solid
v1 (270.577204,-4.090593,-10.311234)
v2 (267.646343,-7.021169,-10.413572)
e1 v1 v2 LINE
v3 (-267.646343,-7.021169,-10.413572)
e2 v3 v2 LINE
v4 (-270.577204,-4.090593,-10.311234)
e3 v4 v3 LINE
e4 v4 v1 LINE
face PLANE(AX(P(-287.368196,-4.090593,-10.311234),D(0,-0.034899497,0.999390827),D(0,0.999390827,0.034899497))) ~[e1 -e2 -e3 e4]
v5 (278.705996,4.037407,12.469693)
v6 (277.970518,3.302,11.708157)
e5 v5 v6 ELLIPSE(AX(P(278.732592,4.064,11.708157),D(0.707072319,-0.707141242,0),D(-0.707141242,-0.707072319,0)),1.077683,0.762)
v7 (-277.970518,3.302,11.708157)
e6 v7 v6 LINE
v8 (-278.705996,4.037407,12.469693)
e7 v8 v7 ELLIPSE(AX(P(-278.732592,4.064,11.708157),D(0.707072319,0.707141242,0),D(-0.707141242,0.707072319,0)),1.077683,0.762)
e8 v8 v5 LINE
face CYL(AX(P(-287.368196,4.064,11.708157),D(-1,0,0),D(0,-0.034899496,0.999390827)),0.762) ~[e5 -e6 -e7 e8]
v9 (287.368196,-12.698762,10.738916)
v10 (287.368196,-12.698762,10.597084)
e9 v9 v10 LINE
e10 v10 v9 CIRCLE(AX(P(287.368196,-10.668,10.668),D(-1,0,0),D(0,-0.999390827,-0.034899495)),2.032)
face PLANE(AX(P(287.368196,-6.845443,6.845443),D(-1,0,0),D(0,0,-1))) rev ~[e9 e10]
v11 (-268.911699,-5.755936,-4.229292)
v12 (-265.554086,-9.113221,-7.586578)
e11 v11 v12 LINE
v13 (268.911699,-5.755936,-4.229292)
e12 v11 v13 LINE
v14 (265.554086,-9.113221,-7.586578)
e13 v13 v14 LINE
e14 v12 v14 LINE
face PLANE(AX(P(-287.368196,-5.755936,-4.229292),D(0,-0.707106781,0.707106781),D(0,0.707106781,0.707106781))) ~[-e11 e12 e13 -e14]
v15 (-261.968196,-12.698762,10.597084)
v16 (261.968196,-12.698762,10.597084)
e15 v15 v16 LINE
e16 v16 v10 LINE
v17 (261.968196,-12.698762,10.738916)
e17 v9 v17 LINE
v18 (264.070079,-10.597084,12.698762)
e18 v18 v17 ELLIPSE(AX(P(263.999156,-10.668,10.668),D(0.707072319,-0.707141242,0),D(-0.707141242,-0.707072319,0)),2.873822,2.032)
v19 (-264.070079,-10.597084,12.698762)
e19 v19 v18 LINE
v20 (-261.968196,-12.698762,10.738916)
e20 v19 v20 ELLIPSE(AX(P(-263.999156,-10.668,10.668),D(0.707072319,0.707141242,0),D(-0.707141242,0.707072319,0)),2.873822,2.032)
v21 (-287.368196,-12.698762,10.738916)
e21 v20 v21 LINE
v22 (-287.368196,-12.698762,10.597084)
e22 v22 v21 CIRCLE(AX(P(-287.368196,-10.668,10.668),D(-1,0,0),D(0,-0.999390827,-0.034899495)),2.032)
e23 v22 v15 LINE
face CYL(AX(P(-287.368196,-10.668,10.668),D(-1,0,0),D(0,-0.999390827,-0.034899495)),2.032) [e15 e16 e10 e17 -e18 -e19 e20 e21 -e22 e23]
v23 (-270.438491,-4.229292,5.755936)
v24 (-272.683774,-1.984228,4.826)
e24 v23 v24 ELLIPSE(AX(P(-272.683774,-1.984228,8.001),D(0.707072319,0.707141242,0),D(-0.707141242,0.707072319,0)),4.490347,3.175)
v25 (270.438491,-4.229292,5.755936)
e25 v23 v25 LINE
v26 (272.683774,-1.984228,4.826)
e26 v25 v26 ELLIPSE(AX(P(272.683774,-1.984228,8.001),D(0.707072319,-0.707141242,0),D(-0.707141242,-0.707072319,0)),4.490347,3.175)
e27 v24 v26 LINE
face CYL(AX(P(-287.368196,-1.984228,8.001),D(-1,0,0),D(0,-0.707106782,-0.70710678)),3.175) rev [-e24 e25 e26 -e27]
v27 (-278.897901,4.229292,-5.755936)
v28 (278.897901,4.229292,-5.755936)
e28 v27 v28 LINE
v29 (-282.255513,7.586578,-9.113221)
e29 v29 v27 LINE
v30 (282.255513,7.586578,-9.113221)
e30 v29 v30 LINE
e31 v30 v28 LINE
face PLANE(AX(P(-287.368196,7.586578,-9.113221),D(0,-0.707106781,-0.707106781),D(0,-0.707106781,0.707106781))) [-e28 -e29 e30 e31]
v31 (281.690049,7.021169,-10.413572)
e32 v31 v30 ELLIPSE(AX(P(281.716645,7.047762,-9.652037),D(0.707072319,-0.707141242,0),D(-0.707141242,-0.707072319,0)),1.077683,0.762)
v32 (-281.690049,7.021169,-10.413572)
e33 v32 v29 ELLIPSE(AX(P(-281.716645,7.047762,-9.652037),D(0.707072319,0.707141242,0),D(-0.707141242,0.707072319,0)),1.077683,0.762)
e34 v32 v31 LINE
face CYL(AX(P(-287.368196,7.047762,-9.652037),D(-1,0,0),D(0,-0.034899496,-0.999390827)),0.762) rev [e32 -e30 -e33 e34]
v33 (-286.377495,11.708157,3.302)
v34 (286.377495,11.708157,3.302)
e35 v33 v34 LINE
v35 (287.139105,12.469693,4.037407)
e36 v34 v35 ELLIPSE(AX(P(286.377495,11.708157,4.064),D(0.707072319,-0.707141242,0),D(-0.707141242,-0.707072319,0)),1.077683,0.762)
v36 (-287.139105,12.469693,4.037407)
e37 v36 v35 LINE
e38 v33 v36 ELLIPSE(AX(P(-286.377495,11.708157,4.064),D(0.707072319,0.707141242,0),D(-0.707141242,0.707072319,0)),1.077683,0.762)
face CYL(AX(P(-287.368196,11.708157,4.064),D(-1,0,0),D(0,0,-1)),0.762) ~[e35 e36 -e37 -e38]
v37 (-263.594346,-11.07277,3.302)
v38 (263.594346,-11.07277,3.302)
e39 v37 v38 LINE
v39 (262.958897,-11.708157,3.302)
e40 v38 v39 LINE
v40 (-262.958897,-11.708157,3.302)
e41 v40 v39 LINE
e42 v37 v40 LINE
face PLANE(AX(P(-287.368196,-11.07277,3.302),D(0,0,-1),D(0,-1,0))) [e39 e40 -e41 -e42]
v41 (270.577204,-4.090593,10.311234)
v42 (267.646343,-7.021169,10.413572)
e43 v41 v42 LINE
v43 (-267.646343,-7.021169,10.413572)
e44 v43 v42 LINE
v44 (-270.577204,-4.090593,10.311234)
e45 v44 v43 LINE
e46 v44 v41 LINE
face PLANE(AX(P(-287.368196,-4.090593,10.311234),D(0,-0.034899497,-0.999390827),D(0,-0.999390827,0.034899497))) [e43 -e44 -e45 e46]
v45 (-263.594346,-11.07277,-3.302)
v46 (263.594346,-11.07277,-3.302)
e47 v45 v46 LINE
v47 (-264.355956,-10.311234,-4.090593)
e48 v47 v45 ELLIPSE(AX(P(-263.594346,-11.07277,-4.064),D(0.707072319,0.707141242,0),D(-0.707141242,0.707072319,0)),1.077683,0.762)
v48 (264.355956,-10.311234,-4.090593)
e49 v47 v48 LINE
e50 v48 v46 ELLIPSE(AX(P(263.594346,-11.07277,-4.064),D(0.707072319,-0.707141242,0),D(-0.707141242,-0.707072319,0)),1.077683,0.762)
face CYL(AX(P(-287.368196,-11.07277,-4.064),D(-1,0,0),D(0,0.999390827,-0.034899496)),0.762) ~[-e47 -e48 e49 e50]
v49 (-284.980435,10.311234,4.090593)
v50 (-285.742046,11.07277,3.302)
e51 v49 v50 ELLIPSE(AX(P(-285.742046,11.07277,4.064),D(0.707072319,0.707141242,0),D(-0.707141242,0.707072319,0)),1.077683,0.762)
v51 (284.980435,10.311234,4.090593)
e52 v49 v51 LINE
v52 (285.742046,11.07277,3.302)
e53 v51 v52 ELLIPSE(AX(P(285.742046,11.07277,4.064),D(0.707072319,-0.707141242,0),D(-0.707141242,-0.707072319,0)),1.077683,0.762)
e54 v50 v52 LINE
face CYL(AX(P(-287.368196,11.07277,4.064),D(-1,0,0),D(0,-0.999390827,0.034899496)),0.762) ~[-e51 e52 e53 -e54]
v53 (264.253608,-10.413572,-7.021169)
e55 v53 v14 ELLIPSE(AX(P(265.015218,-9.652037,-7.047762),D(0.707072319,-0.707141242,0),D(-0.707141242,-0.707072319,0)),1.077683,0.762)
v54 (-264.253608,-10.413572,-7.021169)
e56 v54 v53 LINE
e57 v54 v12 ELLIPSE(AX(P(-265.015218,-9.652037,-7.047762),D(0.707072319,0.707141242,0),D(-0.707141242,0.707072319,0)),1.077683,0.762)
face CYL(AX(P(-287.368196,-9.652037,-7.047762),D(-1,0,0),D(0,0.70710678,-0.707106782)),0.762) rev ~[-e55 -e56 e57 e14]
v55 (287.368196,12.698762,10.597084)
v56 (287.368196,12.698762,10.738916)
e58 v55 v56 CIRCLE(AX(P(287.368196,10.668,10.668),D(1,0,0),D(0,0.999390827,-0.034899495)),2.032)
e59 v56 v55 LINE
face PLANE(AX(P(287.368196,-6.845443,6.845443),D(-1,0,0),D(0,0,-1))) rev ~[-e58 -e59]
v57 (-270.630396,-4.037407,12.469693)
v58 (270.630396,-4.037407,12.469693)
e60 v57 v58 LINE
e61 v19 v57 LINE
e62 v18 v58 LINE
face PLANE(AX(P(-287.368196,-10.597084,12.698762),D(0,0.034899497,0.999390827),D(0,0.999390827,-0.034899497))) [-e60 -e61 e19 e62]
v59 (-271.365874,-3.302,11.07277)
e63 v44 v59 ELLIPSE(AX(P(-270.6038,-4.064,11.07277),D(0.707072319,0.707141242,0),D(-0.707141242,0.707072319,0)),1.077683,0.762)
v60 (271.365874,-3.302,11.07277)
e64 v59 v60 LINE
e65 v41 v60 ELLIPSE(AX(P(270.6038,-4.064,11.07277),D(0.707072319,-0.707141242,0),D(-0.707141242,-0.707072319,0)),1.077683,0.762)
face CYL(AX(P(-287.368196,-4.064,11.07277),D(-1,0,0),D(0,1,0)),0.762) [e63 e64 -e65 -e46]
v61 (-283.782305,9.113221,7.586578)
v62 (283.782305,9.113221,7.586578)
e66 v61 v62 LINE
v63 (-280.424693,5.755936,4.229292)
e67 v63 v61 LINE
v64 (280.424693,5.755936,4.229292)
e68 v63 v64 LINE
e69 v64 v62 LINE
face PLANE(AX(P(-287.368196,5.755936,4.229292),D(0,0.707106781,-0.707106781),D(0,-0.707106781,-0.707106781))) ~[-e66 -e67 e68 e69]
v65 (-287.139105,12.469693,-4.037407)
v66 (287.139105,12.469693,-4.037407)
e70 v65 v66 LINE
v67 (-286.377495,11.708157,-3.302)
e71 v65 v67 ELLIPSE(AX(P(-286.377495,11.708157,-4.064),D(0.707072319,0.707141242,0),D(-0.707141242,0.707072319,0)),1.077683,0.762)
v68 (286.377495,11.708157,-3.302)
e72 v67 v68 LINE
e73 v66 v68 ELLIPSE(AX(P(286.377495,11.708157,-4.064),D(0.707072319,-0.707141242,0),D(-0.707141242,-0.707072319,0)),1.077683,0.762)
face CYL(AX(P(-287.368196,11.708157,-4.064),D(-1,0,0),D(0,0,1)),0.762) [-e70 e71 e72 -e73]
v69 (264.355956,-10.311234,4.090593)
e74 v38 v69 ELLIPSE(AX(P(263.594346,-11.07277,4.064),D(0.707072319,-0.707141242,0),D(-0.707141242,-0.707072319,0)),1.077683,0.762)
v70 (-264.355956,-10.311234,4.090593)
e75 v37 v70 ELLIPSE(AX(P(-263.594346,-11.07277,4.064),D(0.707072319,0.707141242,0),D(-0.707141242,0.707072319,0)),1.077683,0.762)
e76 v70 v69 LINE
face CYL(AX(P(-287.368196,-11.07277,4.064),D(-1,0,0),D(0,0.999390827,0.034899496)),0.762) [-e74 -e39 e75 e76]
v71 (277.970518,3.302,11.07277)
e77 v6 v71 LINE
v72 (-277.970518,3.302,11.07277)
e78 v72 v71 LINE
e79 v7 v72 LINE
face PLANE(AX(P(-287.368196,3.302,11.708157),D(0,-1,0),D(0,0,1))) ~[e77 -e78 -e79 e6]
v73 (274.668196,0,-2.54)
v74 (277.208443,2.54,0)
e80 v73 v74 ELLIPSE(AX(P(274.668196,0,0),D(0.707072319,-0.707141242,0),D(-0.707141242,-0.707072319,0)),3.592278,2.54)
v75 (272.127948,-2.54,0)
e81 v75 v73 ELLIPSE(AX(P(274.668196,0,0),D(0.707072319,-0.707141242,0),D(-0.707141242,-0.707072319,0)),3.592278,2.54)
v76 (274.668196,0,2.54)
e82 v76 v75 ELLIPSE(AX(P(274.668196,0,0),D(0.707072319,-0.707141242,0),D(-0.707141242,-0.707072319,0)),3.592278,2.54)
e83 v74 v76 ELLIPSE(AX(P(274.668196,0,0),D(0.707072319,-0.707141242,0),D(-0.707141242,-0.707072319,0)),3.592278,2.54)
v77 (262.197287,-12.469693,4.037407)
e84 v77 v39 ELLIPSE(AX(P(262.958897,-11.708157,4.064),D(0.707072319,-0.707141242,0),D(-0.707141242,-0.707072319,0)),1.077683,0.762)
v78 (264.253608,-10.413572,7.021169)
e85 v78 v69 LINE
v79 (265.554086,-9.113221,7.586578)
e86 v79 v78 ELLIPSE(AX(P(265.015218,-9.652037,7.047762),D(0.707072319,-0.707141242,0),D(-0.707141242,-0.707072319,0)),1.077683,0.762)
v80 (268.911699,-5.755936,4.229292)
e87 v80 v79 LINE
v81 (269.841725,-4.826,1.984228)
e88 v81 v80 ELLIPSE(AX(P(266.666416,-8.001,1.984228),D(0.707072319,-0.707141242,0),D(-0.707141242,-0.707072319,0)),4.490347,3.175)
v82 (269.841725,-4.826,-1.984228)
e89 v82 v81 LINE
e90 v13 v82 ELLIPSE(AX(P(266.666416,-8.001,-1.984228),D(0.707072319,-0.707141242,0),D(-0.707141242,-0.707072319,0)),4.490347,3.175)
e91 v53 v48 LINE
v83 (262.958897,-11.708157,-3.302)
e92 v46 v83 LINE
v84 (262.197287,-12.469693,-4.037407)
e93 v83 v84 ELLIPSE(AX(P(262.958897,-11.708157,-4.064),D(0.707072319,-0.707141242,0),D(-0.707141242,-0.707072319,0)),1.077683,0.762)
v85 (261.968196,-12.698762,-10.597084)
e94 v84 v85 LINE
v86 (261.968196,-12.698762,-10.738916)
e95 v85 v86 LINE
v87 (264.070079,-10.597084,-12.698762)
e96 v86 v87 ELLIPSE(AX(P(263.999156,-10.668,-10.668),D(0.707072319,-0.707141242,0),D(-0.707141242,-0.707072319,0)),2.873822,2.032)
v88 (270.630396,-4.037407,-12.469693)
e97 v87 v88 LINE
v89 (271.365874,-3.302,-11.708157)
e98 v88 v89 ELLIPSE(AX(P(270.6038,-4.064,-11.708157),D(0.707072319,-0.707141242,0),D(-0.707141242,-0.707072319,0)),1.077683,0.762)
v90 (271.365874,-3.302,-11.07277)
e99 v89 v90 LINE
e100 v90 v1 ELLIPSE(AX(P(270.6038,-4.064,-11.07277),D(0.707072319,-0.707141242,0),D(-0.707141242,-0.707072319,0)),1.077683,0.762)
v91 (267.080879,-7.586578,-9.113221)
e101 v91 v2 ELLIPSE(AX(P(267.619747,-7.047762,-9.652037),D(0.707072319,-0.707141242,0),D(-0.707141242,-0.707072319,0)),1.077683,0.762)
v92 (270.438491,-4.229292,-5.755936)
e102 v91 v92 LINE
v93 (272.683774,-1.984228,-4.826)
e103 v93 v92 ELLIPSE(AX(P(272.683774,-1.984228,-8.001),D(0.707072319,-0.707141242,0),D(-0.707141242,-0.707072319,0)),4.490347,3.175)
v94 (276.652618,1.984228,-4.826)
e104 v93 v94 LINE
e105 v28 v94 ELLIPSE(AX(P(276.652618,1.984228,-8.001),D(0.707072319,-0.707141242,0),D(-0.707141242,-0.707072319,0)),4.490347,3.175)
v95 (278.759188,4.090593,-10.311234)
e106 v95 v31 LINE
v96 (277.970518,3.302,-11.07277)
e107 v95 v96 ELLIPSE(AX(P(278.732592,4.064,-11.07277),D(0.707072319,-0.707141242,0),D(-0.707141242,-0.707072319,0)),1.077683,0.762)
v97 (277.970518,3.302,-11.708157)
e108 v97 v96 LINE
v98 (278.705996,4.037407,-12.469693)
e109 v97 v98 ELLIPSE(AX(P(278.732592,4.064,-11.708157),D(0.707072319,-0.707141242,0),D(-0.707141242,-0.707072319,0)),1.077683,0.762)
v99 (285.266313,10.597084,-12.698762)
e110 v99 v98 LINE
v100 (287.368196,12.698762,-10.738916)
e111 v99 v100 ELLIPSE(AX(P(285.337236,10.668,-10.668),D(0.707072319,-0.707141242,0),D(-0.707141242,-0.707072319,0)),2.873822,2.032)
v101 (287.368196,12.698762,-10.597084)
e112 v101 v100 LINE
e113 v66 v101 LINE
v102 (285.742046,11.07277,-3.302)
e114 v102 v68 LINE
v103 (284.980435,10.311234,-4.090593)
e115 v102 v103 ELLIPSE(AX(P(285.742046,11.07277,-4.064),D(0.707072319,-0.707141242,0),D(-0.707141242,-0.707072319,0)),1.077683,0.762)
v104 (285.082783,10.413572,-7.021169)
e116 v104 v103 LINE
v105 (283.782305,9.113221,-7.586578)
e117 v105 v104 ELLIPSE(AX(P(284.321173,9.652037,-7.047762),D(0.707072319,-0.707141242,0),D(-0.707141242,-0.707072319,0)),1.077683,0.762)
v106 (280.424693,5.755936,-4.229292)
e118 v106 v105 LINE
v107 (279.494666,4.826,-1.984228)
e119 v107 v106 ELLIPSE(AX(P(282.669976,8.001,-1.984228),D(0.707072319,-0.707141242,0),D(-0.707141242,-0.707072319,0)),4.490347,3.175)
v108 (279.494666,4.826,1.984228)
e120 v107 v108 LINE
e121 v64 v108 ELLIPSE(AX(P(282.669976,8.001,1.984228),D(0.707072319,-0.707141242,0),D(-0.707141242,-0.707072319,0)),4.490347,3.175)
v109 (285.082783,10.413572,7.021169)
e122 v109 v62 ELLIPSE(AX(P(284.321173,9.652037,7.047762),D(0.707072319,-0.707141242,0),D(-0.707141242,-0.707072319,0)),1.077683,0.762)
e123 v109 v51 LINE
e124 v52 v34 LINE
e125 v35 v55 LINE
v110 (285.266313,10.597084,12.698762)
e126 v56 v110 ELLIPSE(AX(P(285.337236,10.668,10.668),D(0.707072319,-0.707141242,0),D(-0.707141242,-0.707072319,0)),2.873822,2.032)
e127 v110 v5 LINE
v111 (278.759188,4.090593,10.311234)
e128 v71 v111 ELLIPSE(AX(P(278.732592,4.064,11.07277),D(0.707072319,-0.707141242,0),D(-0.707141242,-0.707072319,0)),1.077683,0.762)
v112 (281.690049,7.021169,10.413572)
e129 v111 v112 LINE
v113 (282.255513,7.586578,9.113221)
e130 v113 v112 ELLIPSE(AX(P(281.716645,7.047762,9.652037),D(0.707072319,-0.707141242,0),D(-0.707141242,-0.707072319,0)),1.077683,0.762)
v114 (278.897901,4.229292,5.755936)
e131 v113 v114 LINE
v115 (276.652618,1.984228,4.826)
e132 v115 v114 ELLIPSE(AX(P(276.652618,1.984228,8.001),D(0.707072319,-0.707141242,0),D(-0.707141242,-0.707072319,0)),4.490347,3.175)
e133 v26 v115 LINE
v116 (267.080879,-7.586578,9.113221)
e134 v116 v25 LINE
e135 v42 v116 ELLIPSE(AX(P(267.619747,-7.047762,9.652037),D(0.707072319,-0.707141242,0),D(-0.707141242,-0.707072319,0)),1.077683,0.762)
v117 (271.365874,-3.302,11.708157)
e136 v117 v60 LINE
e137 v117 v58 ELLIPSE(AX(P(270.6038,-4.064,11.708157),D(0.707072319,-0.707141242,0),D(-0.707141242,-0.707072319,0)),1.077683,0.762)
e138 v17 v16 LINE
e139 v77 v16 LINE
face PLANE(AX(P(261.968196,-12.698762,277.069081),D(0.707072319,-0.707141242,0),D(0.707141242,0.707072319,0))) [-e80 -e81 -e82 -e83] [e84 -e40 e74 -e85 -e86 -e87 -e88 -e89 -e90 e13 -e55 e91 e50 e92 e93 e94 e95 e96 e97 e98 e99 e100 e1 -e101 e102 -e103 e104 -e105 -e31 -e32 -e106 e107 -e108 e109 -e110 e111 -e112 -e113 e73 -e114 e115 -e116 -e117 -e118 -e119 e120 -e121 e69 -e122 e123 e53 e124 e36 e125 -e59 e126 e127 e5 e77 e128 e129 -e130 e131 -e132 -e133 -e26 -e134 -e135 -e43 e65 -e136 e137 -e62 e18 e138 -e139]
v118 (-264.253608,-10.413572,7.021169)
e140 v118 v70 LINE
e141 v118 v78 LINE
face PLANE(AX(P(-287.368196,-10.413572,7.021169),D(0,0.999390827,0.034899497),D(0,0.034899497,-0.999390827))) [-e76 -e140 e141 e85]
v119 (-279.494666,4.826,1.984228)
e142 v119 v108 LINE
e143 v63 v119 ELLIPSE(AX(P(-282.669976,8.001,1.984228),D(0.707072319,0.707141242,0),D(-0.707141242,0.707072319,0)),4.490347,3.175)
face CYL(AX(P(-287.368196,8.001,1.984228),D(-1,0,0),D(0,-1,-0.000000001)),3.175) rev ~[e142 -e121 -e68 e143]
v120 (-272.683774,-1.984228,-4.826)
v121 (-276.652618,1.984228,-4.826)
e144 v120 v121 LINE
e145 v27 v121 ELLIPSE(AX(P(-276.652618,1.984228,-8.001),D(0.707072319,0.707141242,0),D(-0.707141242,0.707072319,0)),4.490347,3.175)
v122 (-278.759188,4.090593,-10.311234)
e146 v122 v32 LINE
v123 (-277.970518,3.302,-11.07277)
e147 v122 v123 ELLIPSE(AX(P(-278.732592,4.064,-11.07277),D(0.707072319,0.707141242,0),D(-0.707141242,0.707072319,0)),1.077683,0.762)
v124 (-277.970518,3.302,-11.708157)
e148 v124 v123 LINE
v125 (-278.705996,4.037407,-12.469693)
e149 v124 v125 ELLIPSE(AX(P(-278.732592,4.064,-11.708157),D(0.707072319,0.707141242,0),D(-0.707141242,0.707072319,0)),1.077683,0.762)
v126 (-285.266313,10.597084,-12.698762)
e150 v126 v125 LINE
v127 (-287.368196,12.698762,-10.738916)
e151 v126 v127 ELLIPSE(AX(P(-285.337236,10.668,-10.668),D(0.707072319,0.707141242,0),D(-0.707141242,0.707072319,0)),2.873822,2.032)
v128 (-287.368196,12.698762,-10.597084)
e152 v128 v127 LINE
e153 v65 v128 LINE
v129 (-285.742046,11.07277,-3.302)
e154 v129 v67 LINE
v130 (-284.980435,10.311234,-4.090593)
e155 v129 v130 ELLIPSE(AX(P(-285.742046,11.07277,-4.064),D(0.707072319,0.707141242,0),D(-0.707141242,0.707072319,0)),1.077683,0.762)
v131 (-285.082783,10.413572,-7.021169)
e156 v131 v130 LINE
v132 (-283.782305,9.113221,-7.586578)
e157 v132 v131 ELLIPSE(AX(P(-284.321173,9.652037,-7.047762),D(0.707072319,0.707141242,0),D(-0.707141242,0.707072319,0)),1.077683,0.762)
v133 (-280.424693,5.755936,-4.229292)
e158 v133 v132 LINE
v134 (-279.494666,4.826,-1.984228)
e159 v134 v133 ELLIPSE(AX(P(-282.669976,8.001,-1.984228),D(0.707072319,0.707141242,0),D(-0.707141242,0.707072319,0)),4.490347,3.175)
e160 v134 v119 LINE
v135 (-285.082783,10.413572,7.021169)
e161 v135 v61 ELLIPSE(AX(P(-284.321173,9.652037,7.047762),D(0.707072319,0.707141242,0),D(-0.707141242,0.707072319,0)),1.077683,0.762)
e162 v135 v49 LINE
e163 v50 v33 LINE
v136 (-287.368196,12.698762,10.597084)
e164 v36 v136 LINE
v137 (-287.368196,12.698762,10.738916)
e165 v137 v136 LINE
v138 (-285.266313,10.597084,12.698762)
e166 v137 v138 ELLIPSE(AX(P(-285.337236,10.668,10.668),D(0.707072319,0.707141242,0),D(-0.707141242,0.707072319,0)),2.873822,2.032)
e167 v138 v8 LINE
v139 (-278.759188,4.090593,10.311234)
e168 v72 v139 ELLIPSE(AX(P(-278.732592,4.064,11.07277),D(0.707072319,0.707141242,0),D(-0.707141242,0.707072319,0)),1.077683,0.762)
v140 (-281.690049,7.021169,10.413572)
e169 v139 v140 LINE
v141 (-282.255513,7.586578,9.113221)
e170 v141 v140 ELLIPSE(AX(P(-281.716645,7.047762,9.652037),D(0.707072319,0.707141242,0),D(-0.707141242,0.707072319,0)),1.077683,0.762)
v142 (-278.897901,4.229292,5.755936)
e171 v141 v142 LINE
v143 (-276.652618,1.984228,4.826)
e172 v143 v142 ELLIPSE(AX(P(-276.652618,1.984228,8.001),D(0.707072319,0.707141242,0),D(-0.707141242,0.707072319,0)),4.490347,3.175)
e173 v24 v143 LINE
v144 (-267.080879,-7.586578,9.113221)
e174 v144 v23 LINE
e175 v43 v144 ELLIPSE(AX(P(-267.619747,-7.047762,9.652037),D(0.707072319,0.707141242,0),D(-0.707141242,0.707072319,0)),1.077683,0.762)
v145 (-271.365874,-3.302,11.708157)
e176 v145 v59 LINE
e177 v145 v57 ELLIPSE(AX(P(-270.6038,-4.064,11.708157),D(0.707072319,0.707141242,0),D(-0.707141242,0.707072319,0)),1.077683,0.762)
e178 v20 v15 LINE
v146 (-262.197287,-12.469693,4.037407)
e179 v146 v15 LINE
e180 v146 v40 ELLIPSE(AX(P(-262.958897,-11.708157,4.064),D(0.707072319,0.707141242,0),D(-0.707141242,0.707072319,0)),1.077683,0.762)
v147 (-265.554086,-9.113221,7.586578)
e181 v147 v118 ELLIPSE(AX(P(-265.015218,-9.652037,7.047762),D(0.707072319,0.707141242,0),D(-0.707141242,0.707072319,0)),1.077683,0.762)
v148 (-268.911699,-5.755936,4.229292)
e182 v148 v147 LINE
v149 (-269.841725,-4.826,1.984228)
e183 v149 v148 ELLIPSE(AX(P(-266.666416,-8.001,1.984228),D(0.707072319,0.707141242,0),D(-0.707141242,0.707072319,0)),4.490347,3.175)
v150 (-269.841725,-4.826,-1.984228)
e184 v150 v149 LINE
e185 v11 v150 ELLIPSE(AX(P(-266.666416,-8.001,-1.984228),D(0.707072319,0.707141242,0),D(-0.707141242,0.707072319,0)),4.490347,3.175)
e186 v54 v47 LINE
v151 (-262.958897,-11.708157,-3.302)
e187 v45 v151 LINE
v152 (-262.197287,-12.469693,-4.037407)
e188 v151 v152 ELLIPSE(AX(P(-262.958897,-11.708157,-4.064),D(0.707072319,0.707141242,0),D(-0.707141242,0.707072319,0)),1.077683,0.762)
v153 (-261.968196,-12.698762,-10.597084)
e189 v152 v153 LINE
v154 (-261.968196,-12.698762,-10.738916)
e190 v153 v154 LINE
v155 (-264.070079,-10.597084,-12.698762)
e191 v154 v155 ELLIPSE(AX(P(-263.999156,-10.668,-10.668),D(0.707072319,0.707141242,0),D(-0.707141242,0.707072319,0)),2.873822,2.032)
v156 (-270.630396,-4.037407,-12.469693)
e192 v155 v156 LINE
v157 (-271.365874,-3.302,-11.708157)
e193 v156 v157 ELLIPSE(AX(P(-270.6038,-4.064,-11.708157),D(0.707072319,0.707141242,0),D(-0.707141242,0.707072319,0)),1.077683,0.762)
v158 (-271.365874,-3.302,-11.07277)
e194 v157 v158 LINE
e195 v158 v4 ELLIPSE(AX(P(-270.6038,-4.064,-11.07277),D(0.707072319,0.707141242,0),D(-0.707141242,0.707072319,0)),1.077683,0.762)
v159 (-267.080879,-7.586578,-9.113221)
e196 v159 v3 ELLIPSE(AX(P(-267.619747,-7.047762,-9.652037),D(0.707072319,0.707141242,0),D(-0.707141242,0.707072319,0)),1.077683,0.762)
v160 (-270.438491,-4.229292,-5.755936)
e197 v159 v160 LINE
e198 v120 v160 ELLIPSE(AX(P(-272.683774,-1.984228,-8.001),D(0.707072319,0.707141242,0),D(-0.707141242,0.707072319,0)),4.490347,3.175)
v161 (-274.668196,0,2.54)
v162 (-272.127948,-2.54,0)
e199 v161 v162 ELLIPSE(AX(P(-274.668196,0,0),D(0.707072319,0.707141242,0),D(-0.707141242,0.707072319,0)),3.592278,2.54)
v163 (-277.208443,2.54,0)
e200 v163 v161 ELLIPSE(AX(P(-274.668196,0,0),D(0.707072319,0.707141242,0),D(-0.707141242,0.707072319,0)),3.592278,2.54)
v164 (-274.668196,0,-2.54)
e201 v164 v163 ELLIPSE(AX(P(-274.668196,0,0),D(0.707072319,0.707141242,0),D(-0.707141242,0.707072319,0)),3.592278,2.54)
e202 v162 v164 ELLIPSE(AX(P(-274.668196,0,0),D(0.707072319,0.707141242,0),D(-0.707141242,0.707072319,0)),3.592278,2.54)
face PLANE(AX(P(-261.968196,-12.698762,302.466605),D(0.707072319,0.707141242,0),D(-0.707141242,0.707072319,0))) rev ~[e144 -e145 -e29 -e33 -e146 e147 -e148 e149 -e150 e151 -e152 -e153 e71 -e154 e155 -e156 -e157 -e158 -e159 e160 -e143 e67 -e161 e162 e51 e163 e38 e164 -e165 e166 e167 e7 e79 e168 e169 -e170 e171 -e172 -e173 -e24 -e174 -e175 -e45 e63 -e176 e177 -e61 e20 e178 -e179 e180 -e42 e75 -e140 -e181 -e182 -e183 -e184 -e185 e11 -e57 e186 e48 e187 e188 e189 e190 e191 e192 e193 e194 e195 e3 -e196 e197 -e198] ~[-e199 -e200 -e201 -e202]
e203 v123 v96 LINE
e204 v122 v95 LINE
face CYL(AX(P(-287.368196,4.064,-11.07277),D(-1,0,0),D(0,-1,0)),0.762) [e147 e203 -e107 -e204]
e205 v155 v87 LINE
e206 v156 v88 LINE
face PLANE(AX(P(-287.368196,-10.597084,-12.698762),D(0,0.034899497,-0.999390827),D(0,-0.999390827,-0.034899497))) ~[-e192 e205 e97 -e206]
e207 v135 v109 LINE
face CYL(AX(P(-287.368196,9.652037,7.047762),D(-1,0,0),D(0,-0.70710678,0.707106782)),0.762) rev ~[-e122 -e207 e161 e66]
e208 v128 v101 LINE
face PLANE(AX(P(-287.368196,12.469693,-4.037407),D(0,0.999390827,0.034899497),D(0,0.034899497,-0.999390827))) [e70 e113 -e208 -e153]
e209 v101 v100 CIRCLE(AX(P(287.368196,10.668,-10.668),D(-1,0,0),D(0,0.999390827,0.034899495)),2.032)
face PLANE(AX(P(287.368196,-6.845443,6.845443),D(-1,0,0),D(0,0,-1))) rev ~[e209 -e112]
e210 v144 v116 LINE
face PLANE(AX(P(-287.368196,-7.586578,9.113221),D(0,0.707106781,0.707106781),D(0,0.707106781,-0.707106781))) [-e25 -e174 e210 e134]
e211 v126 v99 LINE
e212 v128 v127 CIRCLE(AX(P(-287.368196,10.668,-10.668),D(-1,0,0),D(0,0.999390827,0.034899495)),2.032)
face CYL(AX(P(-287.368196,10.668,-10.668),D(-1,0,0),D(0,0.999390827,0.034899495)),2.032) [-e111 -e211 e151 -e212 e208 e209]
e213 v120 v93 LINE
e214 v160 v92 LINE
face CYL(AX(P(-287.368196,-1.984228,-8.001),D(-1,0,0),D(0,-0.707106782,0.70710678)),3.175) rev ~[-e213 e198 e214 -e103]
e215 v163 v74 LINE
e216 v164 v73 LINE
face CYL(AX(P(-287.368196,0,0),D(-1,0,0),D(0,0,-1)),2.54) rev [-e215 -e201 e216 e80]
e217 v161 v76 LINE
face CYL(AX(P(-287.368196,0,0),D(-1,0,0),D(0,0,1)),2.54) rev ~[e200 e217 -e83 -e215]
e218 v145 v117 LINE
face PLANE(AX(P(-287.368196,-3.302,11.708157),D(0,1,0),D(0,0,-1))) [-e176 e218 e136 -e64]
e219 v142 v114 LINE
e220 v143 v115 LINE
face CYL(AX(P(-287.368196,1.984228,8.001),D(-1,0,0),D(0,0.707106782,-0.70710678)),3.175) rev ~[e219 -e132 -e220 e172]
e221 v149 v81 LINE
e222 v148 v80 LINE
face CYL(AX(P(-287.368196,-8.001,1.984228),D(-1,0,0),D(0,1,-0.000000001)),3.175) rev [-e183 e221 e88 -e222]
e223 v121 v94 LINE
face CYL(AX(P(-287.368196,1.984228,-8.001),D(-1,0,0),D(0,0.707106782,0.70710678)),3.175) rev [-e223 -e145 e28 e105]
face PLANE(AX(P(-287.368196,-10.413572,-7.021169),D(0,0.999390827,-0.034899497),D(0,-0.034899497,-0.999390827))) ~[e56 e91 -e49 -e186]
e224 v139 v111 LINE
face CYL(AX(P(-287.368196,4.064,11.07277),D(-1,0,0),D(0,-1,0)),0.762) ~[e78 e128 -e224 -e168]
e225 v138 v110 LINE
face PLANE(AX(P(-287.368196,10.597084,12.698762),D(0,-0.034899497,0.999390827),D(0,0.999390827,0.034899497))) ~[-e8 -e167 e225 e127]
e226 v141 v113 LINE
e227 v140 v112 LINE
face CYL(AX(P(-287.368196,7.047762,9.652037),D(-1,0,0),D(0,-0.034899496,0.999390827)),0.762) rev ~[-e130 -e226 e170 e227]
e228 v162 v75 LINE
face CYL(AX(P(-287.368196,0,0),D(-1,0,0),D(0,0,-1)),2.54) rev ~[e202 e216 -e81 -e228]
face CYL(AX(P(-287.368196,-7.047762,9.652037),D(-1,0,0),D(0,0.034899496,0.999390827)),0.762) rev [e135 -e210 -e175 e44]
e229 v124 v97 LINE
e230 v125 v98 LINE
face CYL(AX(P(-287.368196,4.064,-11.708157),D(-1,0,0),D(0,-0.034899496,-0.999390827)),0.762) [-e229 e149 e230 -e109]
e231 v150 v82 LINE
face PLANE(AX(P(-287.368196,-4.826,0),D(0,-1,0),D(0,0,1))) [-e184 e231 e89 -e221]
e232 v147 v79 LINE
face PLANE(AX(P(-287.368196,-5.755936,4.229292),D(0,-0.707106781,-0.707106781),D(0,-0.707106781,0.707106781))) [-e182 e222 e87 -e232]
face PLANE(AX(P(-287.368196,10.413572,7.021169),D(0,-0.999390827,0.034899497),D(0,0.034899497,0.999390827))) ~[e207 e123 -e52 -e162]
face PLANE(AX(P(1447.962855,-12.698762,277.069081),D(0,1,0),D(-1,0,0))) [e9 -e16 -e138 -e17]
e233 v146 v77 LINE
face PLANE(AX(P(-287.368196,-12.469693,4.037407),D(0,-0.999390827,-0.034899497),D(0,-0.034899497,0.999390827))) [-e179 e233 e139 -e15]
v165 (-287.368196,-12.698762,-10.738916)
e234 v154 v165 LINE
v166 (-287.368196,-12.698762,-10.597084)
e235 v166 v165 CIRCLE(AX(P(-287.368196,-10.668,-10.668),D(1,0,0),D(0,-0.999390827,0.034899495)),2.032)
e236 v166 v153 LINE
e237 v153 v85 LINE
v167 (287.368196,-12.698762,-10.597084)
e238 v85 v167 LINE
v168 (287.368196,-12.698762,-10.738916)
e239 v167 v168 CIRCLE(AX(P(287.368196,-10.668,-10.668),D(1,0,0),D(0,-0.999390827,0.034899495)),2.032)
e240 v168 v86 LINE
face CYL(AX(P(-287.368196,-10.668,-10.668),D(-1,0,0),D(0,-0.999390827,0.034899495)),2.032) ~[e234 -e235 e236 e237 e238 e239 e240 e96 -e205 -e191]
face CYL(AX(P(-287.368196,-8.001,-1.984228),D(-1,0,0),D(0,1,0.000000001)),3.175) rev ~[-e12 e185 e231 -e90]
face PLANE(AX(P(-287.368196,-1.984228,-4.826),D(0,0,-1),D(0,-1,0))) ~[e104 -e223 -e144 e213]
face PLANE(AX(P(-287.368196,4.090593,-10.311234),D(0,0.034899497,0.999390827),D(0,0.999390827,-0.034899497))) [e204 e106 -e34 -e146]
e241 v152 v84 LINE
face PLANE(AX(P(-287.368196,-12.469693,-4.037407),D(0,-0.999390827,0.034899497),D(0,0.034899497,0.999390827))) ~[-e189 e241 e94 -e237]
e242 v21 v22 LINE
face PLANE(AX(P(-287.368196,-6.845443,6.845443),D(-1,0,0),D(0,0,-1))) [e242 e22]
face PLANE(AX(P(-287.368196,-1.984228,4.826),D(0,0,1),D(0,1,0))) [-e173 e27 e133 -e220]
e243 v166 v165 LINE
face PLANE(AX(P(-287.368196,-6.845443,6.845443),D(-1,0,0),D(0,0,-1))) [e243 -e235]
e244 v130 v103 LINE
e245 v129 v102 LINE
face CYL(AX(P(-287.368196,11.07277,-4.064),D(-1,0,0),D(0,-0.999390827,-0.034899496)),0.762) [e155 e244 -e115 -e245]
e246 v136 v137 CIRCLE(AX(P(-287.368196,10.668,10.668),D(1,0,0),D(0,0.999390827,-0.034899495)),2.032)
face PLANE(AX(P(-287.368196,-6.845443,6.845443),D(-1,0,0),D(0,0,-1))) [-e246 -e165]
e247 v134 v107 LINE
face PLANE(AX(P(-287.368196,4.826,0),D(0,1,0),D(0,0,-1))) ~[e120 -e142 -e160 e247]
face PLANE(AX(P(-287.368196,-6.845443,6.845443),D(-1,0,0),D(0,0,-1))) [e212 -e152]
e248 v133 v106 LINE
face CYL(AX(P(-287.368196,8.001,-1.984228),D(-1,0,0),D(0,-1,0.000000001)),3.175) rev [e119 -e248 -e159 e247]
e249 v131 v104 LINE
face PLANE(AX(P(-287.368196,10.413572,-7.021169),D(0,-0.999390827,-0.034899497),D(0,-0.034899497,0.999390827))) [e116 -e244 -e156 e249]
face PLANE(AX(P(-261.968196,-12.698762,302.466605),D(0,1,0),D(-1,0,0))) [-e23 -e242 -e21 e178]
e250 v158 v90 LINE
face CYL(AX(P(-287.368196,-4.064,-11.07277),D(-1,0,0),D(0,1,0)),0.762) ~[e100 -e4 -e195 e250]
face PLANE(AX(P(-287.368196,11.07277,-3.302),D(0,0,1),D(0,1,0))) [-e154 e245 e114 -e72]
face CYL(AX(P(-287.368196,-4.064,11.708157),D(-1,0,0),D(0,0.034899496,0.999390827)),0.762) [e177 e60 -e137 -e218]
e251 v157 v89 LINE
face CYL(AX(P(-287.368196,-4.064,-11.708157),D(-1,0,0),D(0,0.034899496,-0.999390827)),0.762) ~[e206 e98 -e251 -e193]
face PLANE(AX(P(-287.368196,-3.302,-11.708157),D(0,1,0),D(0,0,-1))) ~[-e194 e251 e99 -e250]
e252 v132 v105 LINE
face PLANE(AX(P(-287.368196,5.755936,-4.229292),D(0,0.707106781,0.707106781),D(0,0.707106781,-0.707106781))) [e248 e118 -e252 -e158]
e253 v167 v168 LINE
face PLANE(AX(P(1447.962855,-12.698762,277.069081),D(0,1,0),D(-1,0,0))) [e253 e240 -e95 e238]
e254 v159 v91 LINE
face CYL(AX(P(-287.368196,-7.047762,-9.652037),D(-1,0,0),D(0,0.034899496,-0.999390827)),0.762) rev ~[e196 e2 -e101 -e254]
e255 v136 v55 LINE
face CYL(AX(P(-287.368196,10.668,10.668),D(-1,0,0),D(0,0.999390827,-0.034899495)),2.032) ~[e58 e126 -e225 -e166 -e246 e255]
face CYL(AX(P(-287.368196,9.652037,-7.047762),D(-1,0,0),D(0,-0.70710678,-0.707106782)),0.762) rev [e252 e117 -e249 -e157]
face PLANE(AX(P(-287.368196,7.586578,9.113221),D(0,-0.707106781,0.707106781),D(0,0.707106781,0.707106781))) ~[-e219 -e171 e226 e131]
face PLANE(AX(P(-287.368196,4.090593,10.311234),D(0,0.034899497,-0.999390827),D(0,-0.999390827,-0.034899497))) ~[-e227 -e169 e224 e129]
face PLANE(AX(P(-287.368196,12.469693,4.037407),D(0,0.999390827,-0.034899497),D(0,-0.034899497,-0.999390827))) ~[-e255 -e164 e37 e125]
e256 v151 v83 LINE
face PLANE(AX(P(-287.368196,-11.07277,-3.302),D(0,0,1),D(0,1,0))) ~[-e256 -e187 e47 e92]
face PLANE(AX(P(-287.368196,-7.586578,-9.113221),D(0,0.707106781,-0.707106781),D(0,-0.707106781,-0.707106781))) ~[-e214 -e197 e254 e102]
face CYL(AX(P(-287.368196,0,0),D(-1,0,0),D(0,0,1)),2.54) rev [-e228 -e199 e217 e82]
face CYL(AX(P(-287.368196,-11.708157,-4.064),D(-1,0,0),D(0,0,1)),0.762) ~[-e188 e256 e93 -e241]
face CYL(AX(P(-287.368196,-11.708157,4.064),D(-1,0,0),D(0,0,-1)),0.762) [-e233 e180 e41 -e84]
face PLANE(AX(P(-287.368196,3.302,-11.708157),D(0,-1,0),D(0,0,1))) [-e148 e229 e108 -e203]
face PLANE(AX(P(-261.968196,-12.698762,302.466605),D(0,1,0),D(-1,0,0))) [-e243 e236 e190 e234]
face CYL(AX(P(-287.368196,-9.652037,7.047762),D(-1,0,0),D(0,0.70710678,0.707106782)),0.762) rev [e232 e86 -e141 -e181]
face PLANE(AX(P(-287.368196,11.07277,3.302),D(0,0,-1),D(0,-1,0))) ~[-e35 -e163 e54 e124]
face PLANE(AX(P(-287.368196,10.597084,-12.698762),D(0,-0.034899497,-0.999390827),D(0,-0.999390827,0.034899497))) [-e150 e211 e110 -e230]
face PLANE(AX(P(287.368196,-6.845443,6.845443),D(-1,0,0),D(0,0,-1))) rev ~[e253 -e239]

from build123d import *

# Parameters (mm, degrees)
BOSS_EXTRUDE1_DEPTH      = 287.368196
BOSS_EXTRUDE1_DEPTH_BACK = 287.368196
CUT_EXTRUDE5_DEPTH       = 289.76784307
CUT_EXTRUDE5_DEPTH_BACK  = 289.76784307
CUT_EXTRUDE8_DEPTH       = 289.76784307
CUT_EXTRUDE8_DEPTH_BACK  = 289.76784307


with BuildPart() as part:
    # Sketch3 → Boss-Extrude1 (new, two sides: drawn at the far end of the back side and taken through both)
    with BuildSketch(Plane(origin=(0, 0, 0), x_dir=(0, 0, -1), z_dir=(1, 0, 0)).offset(-BOSS_EXTRUDE1_DEPTH_BACK)):
        with BuildLine():
            Line((0, 4.826), (1.984228399, 4.826))
            ThreePointArc((1.984228399, 4.826), (3.199248297, 5.067682484), (4.229292429, 5.75593597))
            Line((4.229292429, 5.75593597), (7.586577723, 9.113221264))
            ThreePointArc((7.586577723, 9.113221264), (7.746562132, 9.955883421), (7.021168939, 10.413572441))
            Line((7.021168939, 10.413572441), (4.090593416, 10.311234489))
            ThreePointArc((4.090593416, 10.311234489), (3.534670322, 10.524633371), (3.302, 11.072770299))
            Line((3.302, 11.072770299), (3.302, 11.70815736))
            ThreePointArc((3.302, 11.70815736), (3.515863072, 12.237487038), (4.037406584, 12.46969317))
            Line((4.037406584, 12.46969317), (10.597084223, 12.698762161))
            ThreePointArc((10.597084223, 12.698762161), (12.104840979, 12.104840979), (12.698762161, 10.597084223))
            Line((12.698762161, 10.597084223), (12.46969317, 4.037406584))
            ThreePointArc((12.46969317, 4.037406584), (12.237487038, 3.515863072), (11.70815736, 3.302))
            Line((11.70815736, 3.302), (11.072770299, 3.302))
            ThreePointArc((11.072770299, 3.302), (10.524633371, 3.534670322), (10.311234489, 4.090593416))
            Line((10.311234489, 4.090593416), (10.413572441, 7.021168939))
            ThreePointArc((10.413572441, 7.021168939), (9.955883421, 7.746562132), (9.113221264, 7.586577723))
            Line((9.113221264, 7.586577723), (5.75593597, 4.229292429))
            ThreePointArc((5.75593597, 4.229292429), (5.067682484, 3.199248297), (4.826, 1.984228399))
            Line((4.826, 1.984228399), (4.826, 0))
            Line((4.826, 0), (2.54, 0))
            ThreePointArc((2.54, 0), (1.796051224, 1.796051224), (0, 2.54))
            Line((0, 2.54), (0, 4.826))
        make_face()
    extrude(amount=BOSS_EXTRUDE1_DEPTH + BOSS_EXTRUDE1_DEPTH_BACK)

    # Mirror1: part across plane


with BuildPart() as part_1:
    add(part.part)
    add(part.part.mirror(Plane.ZX))

    # Mirror2: part across plane


with BuildPart() as part_2:
    add(part_1.part)
    add(part_1.part.mirror(Plane.XY))

    # Sketch6 → Cut-Extrude5 (cut, two sides: drawn at the far end of the back side and taken through both)
    with BuildSketch(Plane(origin=(0, 0, 12.698762161), x_dir=(-1, 0, 0), z_dir=(0, 0, -1)).offset(-CUT_EXTRUDE5_DEPTH_BACK)):
        Polygon((1447.962854837, -12.698762161), (287.3681959, -12.698762161), (261.9681959, -12.698762161), (287.3681959, 12.698762161), (1108.072544542, 833.323118656), (3261.939625853, 1698.641814545), (3601.829936148, 852.619933728), align=None)
    extrude(amount=CUT_EXTRUDE5_DEPTH + CUT_EXTRUDE5_DEPTH_BACK, mode=Mode.SUBTRACT)

    # Sketch12 → Cut-Extrude8 (cut, two sides: drawn at the far end of the back side and taken through both)
    with BuildSketch(Plane(origin=(0, 0, -12.698762161), x_dir=(-1, 0, 0), z_dir=(0, 0, -1)).offset(-CUT_EXTRUDE8_DEPTH_BACK)):
        Polygon((-1447.962854837, -12.698762161), (-287.3681959, -12.698762161), (-261.9681959, -12.698762161), (-287.3681959, 12.698762161), (-1108.072544542, 833.323118656), (-3261.939625853, 1698.641814545), (-3601.829936148, 852.619933728), align=None)
    extrude(amount=CUT_EXTRUDE8_DEPTH + CUT_EXTRUDE8_DEPTH_BACK, mode=Mode.SUBTRACT)


solid = part_2.part
